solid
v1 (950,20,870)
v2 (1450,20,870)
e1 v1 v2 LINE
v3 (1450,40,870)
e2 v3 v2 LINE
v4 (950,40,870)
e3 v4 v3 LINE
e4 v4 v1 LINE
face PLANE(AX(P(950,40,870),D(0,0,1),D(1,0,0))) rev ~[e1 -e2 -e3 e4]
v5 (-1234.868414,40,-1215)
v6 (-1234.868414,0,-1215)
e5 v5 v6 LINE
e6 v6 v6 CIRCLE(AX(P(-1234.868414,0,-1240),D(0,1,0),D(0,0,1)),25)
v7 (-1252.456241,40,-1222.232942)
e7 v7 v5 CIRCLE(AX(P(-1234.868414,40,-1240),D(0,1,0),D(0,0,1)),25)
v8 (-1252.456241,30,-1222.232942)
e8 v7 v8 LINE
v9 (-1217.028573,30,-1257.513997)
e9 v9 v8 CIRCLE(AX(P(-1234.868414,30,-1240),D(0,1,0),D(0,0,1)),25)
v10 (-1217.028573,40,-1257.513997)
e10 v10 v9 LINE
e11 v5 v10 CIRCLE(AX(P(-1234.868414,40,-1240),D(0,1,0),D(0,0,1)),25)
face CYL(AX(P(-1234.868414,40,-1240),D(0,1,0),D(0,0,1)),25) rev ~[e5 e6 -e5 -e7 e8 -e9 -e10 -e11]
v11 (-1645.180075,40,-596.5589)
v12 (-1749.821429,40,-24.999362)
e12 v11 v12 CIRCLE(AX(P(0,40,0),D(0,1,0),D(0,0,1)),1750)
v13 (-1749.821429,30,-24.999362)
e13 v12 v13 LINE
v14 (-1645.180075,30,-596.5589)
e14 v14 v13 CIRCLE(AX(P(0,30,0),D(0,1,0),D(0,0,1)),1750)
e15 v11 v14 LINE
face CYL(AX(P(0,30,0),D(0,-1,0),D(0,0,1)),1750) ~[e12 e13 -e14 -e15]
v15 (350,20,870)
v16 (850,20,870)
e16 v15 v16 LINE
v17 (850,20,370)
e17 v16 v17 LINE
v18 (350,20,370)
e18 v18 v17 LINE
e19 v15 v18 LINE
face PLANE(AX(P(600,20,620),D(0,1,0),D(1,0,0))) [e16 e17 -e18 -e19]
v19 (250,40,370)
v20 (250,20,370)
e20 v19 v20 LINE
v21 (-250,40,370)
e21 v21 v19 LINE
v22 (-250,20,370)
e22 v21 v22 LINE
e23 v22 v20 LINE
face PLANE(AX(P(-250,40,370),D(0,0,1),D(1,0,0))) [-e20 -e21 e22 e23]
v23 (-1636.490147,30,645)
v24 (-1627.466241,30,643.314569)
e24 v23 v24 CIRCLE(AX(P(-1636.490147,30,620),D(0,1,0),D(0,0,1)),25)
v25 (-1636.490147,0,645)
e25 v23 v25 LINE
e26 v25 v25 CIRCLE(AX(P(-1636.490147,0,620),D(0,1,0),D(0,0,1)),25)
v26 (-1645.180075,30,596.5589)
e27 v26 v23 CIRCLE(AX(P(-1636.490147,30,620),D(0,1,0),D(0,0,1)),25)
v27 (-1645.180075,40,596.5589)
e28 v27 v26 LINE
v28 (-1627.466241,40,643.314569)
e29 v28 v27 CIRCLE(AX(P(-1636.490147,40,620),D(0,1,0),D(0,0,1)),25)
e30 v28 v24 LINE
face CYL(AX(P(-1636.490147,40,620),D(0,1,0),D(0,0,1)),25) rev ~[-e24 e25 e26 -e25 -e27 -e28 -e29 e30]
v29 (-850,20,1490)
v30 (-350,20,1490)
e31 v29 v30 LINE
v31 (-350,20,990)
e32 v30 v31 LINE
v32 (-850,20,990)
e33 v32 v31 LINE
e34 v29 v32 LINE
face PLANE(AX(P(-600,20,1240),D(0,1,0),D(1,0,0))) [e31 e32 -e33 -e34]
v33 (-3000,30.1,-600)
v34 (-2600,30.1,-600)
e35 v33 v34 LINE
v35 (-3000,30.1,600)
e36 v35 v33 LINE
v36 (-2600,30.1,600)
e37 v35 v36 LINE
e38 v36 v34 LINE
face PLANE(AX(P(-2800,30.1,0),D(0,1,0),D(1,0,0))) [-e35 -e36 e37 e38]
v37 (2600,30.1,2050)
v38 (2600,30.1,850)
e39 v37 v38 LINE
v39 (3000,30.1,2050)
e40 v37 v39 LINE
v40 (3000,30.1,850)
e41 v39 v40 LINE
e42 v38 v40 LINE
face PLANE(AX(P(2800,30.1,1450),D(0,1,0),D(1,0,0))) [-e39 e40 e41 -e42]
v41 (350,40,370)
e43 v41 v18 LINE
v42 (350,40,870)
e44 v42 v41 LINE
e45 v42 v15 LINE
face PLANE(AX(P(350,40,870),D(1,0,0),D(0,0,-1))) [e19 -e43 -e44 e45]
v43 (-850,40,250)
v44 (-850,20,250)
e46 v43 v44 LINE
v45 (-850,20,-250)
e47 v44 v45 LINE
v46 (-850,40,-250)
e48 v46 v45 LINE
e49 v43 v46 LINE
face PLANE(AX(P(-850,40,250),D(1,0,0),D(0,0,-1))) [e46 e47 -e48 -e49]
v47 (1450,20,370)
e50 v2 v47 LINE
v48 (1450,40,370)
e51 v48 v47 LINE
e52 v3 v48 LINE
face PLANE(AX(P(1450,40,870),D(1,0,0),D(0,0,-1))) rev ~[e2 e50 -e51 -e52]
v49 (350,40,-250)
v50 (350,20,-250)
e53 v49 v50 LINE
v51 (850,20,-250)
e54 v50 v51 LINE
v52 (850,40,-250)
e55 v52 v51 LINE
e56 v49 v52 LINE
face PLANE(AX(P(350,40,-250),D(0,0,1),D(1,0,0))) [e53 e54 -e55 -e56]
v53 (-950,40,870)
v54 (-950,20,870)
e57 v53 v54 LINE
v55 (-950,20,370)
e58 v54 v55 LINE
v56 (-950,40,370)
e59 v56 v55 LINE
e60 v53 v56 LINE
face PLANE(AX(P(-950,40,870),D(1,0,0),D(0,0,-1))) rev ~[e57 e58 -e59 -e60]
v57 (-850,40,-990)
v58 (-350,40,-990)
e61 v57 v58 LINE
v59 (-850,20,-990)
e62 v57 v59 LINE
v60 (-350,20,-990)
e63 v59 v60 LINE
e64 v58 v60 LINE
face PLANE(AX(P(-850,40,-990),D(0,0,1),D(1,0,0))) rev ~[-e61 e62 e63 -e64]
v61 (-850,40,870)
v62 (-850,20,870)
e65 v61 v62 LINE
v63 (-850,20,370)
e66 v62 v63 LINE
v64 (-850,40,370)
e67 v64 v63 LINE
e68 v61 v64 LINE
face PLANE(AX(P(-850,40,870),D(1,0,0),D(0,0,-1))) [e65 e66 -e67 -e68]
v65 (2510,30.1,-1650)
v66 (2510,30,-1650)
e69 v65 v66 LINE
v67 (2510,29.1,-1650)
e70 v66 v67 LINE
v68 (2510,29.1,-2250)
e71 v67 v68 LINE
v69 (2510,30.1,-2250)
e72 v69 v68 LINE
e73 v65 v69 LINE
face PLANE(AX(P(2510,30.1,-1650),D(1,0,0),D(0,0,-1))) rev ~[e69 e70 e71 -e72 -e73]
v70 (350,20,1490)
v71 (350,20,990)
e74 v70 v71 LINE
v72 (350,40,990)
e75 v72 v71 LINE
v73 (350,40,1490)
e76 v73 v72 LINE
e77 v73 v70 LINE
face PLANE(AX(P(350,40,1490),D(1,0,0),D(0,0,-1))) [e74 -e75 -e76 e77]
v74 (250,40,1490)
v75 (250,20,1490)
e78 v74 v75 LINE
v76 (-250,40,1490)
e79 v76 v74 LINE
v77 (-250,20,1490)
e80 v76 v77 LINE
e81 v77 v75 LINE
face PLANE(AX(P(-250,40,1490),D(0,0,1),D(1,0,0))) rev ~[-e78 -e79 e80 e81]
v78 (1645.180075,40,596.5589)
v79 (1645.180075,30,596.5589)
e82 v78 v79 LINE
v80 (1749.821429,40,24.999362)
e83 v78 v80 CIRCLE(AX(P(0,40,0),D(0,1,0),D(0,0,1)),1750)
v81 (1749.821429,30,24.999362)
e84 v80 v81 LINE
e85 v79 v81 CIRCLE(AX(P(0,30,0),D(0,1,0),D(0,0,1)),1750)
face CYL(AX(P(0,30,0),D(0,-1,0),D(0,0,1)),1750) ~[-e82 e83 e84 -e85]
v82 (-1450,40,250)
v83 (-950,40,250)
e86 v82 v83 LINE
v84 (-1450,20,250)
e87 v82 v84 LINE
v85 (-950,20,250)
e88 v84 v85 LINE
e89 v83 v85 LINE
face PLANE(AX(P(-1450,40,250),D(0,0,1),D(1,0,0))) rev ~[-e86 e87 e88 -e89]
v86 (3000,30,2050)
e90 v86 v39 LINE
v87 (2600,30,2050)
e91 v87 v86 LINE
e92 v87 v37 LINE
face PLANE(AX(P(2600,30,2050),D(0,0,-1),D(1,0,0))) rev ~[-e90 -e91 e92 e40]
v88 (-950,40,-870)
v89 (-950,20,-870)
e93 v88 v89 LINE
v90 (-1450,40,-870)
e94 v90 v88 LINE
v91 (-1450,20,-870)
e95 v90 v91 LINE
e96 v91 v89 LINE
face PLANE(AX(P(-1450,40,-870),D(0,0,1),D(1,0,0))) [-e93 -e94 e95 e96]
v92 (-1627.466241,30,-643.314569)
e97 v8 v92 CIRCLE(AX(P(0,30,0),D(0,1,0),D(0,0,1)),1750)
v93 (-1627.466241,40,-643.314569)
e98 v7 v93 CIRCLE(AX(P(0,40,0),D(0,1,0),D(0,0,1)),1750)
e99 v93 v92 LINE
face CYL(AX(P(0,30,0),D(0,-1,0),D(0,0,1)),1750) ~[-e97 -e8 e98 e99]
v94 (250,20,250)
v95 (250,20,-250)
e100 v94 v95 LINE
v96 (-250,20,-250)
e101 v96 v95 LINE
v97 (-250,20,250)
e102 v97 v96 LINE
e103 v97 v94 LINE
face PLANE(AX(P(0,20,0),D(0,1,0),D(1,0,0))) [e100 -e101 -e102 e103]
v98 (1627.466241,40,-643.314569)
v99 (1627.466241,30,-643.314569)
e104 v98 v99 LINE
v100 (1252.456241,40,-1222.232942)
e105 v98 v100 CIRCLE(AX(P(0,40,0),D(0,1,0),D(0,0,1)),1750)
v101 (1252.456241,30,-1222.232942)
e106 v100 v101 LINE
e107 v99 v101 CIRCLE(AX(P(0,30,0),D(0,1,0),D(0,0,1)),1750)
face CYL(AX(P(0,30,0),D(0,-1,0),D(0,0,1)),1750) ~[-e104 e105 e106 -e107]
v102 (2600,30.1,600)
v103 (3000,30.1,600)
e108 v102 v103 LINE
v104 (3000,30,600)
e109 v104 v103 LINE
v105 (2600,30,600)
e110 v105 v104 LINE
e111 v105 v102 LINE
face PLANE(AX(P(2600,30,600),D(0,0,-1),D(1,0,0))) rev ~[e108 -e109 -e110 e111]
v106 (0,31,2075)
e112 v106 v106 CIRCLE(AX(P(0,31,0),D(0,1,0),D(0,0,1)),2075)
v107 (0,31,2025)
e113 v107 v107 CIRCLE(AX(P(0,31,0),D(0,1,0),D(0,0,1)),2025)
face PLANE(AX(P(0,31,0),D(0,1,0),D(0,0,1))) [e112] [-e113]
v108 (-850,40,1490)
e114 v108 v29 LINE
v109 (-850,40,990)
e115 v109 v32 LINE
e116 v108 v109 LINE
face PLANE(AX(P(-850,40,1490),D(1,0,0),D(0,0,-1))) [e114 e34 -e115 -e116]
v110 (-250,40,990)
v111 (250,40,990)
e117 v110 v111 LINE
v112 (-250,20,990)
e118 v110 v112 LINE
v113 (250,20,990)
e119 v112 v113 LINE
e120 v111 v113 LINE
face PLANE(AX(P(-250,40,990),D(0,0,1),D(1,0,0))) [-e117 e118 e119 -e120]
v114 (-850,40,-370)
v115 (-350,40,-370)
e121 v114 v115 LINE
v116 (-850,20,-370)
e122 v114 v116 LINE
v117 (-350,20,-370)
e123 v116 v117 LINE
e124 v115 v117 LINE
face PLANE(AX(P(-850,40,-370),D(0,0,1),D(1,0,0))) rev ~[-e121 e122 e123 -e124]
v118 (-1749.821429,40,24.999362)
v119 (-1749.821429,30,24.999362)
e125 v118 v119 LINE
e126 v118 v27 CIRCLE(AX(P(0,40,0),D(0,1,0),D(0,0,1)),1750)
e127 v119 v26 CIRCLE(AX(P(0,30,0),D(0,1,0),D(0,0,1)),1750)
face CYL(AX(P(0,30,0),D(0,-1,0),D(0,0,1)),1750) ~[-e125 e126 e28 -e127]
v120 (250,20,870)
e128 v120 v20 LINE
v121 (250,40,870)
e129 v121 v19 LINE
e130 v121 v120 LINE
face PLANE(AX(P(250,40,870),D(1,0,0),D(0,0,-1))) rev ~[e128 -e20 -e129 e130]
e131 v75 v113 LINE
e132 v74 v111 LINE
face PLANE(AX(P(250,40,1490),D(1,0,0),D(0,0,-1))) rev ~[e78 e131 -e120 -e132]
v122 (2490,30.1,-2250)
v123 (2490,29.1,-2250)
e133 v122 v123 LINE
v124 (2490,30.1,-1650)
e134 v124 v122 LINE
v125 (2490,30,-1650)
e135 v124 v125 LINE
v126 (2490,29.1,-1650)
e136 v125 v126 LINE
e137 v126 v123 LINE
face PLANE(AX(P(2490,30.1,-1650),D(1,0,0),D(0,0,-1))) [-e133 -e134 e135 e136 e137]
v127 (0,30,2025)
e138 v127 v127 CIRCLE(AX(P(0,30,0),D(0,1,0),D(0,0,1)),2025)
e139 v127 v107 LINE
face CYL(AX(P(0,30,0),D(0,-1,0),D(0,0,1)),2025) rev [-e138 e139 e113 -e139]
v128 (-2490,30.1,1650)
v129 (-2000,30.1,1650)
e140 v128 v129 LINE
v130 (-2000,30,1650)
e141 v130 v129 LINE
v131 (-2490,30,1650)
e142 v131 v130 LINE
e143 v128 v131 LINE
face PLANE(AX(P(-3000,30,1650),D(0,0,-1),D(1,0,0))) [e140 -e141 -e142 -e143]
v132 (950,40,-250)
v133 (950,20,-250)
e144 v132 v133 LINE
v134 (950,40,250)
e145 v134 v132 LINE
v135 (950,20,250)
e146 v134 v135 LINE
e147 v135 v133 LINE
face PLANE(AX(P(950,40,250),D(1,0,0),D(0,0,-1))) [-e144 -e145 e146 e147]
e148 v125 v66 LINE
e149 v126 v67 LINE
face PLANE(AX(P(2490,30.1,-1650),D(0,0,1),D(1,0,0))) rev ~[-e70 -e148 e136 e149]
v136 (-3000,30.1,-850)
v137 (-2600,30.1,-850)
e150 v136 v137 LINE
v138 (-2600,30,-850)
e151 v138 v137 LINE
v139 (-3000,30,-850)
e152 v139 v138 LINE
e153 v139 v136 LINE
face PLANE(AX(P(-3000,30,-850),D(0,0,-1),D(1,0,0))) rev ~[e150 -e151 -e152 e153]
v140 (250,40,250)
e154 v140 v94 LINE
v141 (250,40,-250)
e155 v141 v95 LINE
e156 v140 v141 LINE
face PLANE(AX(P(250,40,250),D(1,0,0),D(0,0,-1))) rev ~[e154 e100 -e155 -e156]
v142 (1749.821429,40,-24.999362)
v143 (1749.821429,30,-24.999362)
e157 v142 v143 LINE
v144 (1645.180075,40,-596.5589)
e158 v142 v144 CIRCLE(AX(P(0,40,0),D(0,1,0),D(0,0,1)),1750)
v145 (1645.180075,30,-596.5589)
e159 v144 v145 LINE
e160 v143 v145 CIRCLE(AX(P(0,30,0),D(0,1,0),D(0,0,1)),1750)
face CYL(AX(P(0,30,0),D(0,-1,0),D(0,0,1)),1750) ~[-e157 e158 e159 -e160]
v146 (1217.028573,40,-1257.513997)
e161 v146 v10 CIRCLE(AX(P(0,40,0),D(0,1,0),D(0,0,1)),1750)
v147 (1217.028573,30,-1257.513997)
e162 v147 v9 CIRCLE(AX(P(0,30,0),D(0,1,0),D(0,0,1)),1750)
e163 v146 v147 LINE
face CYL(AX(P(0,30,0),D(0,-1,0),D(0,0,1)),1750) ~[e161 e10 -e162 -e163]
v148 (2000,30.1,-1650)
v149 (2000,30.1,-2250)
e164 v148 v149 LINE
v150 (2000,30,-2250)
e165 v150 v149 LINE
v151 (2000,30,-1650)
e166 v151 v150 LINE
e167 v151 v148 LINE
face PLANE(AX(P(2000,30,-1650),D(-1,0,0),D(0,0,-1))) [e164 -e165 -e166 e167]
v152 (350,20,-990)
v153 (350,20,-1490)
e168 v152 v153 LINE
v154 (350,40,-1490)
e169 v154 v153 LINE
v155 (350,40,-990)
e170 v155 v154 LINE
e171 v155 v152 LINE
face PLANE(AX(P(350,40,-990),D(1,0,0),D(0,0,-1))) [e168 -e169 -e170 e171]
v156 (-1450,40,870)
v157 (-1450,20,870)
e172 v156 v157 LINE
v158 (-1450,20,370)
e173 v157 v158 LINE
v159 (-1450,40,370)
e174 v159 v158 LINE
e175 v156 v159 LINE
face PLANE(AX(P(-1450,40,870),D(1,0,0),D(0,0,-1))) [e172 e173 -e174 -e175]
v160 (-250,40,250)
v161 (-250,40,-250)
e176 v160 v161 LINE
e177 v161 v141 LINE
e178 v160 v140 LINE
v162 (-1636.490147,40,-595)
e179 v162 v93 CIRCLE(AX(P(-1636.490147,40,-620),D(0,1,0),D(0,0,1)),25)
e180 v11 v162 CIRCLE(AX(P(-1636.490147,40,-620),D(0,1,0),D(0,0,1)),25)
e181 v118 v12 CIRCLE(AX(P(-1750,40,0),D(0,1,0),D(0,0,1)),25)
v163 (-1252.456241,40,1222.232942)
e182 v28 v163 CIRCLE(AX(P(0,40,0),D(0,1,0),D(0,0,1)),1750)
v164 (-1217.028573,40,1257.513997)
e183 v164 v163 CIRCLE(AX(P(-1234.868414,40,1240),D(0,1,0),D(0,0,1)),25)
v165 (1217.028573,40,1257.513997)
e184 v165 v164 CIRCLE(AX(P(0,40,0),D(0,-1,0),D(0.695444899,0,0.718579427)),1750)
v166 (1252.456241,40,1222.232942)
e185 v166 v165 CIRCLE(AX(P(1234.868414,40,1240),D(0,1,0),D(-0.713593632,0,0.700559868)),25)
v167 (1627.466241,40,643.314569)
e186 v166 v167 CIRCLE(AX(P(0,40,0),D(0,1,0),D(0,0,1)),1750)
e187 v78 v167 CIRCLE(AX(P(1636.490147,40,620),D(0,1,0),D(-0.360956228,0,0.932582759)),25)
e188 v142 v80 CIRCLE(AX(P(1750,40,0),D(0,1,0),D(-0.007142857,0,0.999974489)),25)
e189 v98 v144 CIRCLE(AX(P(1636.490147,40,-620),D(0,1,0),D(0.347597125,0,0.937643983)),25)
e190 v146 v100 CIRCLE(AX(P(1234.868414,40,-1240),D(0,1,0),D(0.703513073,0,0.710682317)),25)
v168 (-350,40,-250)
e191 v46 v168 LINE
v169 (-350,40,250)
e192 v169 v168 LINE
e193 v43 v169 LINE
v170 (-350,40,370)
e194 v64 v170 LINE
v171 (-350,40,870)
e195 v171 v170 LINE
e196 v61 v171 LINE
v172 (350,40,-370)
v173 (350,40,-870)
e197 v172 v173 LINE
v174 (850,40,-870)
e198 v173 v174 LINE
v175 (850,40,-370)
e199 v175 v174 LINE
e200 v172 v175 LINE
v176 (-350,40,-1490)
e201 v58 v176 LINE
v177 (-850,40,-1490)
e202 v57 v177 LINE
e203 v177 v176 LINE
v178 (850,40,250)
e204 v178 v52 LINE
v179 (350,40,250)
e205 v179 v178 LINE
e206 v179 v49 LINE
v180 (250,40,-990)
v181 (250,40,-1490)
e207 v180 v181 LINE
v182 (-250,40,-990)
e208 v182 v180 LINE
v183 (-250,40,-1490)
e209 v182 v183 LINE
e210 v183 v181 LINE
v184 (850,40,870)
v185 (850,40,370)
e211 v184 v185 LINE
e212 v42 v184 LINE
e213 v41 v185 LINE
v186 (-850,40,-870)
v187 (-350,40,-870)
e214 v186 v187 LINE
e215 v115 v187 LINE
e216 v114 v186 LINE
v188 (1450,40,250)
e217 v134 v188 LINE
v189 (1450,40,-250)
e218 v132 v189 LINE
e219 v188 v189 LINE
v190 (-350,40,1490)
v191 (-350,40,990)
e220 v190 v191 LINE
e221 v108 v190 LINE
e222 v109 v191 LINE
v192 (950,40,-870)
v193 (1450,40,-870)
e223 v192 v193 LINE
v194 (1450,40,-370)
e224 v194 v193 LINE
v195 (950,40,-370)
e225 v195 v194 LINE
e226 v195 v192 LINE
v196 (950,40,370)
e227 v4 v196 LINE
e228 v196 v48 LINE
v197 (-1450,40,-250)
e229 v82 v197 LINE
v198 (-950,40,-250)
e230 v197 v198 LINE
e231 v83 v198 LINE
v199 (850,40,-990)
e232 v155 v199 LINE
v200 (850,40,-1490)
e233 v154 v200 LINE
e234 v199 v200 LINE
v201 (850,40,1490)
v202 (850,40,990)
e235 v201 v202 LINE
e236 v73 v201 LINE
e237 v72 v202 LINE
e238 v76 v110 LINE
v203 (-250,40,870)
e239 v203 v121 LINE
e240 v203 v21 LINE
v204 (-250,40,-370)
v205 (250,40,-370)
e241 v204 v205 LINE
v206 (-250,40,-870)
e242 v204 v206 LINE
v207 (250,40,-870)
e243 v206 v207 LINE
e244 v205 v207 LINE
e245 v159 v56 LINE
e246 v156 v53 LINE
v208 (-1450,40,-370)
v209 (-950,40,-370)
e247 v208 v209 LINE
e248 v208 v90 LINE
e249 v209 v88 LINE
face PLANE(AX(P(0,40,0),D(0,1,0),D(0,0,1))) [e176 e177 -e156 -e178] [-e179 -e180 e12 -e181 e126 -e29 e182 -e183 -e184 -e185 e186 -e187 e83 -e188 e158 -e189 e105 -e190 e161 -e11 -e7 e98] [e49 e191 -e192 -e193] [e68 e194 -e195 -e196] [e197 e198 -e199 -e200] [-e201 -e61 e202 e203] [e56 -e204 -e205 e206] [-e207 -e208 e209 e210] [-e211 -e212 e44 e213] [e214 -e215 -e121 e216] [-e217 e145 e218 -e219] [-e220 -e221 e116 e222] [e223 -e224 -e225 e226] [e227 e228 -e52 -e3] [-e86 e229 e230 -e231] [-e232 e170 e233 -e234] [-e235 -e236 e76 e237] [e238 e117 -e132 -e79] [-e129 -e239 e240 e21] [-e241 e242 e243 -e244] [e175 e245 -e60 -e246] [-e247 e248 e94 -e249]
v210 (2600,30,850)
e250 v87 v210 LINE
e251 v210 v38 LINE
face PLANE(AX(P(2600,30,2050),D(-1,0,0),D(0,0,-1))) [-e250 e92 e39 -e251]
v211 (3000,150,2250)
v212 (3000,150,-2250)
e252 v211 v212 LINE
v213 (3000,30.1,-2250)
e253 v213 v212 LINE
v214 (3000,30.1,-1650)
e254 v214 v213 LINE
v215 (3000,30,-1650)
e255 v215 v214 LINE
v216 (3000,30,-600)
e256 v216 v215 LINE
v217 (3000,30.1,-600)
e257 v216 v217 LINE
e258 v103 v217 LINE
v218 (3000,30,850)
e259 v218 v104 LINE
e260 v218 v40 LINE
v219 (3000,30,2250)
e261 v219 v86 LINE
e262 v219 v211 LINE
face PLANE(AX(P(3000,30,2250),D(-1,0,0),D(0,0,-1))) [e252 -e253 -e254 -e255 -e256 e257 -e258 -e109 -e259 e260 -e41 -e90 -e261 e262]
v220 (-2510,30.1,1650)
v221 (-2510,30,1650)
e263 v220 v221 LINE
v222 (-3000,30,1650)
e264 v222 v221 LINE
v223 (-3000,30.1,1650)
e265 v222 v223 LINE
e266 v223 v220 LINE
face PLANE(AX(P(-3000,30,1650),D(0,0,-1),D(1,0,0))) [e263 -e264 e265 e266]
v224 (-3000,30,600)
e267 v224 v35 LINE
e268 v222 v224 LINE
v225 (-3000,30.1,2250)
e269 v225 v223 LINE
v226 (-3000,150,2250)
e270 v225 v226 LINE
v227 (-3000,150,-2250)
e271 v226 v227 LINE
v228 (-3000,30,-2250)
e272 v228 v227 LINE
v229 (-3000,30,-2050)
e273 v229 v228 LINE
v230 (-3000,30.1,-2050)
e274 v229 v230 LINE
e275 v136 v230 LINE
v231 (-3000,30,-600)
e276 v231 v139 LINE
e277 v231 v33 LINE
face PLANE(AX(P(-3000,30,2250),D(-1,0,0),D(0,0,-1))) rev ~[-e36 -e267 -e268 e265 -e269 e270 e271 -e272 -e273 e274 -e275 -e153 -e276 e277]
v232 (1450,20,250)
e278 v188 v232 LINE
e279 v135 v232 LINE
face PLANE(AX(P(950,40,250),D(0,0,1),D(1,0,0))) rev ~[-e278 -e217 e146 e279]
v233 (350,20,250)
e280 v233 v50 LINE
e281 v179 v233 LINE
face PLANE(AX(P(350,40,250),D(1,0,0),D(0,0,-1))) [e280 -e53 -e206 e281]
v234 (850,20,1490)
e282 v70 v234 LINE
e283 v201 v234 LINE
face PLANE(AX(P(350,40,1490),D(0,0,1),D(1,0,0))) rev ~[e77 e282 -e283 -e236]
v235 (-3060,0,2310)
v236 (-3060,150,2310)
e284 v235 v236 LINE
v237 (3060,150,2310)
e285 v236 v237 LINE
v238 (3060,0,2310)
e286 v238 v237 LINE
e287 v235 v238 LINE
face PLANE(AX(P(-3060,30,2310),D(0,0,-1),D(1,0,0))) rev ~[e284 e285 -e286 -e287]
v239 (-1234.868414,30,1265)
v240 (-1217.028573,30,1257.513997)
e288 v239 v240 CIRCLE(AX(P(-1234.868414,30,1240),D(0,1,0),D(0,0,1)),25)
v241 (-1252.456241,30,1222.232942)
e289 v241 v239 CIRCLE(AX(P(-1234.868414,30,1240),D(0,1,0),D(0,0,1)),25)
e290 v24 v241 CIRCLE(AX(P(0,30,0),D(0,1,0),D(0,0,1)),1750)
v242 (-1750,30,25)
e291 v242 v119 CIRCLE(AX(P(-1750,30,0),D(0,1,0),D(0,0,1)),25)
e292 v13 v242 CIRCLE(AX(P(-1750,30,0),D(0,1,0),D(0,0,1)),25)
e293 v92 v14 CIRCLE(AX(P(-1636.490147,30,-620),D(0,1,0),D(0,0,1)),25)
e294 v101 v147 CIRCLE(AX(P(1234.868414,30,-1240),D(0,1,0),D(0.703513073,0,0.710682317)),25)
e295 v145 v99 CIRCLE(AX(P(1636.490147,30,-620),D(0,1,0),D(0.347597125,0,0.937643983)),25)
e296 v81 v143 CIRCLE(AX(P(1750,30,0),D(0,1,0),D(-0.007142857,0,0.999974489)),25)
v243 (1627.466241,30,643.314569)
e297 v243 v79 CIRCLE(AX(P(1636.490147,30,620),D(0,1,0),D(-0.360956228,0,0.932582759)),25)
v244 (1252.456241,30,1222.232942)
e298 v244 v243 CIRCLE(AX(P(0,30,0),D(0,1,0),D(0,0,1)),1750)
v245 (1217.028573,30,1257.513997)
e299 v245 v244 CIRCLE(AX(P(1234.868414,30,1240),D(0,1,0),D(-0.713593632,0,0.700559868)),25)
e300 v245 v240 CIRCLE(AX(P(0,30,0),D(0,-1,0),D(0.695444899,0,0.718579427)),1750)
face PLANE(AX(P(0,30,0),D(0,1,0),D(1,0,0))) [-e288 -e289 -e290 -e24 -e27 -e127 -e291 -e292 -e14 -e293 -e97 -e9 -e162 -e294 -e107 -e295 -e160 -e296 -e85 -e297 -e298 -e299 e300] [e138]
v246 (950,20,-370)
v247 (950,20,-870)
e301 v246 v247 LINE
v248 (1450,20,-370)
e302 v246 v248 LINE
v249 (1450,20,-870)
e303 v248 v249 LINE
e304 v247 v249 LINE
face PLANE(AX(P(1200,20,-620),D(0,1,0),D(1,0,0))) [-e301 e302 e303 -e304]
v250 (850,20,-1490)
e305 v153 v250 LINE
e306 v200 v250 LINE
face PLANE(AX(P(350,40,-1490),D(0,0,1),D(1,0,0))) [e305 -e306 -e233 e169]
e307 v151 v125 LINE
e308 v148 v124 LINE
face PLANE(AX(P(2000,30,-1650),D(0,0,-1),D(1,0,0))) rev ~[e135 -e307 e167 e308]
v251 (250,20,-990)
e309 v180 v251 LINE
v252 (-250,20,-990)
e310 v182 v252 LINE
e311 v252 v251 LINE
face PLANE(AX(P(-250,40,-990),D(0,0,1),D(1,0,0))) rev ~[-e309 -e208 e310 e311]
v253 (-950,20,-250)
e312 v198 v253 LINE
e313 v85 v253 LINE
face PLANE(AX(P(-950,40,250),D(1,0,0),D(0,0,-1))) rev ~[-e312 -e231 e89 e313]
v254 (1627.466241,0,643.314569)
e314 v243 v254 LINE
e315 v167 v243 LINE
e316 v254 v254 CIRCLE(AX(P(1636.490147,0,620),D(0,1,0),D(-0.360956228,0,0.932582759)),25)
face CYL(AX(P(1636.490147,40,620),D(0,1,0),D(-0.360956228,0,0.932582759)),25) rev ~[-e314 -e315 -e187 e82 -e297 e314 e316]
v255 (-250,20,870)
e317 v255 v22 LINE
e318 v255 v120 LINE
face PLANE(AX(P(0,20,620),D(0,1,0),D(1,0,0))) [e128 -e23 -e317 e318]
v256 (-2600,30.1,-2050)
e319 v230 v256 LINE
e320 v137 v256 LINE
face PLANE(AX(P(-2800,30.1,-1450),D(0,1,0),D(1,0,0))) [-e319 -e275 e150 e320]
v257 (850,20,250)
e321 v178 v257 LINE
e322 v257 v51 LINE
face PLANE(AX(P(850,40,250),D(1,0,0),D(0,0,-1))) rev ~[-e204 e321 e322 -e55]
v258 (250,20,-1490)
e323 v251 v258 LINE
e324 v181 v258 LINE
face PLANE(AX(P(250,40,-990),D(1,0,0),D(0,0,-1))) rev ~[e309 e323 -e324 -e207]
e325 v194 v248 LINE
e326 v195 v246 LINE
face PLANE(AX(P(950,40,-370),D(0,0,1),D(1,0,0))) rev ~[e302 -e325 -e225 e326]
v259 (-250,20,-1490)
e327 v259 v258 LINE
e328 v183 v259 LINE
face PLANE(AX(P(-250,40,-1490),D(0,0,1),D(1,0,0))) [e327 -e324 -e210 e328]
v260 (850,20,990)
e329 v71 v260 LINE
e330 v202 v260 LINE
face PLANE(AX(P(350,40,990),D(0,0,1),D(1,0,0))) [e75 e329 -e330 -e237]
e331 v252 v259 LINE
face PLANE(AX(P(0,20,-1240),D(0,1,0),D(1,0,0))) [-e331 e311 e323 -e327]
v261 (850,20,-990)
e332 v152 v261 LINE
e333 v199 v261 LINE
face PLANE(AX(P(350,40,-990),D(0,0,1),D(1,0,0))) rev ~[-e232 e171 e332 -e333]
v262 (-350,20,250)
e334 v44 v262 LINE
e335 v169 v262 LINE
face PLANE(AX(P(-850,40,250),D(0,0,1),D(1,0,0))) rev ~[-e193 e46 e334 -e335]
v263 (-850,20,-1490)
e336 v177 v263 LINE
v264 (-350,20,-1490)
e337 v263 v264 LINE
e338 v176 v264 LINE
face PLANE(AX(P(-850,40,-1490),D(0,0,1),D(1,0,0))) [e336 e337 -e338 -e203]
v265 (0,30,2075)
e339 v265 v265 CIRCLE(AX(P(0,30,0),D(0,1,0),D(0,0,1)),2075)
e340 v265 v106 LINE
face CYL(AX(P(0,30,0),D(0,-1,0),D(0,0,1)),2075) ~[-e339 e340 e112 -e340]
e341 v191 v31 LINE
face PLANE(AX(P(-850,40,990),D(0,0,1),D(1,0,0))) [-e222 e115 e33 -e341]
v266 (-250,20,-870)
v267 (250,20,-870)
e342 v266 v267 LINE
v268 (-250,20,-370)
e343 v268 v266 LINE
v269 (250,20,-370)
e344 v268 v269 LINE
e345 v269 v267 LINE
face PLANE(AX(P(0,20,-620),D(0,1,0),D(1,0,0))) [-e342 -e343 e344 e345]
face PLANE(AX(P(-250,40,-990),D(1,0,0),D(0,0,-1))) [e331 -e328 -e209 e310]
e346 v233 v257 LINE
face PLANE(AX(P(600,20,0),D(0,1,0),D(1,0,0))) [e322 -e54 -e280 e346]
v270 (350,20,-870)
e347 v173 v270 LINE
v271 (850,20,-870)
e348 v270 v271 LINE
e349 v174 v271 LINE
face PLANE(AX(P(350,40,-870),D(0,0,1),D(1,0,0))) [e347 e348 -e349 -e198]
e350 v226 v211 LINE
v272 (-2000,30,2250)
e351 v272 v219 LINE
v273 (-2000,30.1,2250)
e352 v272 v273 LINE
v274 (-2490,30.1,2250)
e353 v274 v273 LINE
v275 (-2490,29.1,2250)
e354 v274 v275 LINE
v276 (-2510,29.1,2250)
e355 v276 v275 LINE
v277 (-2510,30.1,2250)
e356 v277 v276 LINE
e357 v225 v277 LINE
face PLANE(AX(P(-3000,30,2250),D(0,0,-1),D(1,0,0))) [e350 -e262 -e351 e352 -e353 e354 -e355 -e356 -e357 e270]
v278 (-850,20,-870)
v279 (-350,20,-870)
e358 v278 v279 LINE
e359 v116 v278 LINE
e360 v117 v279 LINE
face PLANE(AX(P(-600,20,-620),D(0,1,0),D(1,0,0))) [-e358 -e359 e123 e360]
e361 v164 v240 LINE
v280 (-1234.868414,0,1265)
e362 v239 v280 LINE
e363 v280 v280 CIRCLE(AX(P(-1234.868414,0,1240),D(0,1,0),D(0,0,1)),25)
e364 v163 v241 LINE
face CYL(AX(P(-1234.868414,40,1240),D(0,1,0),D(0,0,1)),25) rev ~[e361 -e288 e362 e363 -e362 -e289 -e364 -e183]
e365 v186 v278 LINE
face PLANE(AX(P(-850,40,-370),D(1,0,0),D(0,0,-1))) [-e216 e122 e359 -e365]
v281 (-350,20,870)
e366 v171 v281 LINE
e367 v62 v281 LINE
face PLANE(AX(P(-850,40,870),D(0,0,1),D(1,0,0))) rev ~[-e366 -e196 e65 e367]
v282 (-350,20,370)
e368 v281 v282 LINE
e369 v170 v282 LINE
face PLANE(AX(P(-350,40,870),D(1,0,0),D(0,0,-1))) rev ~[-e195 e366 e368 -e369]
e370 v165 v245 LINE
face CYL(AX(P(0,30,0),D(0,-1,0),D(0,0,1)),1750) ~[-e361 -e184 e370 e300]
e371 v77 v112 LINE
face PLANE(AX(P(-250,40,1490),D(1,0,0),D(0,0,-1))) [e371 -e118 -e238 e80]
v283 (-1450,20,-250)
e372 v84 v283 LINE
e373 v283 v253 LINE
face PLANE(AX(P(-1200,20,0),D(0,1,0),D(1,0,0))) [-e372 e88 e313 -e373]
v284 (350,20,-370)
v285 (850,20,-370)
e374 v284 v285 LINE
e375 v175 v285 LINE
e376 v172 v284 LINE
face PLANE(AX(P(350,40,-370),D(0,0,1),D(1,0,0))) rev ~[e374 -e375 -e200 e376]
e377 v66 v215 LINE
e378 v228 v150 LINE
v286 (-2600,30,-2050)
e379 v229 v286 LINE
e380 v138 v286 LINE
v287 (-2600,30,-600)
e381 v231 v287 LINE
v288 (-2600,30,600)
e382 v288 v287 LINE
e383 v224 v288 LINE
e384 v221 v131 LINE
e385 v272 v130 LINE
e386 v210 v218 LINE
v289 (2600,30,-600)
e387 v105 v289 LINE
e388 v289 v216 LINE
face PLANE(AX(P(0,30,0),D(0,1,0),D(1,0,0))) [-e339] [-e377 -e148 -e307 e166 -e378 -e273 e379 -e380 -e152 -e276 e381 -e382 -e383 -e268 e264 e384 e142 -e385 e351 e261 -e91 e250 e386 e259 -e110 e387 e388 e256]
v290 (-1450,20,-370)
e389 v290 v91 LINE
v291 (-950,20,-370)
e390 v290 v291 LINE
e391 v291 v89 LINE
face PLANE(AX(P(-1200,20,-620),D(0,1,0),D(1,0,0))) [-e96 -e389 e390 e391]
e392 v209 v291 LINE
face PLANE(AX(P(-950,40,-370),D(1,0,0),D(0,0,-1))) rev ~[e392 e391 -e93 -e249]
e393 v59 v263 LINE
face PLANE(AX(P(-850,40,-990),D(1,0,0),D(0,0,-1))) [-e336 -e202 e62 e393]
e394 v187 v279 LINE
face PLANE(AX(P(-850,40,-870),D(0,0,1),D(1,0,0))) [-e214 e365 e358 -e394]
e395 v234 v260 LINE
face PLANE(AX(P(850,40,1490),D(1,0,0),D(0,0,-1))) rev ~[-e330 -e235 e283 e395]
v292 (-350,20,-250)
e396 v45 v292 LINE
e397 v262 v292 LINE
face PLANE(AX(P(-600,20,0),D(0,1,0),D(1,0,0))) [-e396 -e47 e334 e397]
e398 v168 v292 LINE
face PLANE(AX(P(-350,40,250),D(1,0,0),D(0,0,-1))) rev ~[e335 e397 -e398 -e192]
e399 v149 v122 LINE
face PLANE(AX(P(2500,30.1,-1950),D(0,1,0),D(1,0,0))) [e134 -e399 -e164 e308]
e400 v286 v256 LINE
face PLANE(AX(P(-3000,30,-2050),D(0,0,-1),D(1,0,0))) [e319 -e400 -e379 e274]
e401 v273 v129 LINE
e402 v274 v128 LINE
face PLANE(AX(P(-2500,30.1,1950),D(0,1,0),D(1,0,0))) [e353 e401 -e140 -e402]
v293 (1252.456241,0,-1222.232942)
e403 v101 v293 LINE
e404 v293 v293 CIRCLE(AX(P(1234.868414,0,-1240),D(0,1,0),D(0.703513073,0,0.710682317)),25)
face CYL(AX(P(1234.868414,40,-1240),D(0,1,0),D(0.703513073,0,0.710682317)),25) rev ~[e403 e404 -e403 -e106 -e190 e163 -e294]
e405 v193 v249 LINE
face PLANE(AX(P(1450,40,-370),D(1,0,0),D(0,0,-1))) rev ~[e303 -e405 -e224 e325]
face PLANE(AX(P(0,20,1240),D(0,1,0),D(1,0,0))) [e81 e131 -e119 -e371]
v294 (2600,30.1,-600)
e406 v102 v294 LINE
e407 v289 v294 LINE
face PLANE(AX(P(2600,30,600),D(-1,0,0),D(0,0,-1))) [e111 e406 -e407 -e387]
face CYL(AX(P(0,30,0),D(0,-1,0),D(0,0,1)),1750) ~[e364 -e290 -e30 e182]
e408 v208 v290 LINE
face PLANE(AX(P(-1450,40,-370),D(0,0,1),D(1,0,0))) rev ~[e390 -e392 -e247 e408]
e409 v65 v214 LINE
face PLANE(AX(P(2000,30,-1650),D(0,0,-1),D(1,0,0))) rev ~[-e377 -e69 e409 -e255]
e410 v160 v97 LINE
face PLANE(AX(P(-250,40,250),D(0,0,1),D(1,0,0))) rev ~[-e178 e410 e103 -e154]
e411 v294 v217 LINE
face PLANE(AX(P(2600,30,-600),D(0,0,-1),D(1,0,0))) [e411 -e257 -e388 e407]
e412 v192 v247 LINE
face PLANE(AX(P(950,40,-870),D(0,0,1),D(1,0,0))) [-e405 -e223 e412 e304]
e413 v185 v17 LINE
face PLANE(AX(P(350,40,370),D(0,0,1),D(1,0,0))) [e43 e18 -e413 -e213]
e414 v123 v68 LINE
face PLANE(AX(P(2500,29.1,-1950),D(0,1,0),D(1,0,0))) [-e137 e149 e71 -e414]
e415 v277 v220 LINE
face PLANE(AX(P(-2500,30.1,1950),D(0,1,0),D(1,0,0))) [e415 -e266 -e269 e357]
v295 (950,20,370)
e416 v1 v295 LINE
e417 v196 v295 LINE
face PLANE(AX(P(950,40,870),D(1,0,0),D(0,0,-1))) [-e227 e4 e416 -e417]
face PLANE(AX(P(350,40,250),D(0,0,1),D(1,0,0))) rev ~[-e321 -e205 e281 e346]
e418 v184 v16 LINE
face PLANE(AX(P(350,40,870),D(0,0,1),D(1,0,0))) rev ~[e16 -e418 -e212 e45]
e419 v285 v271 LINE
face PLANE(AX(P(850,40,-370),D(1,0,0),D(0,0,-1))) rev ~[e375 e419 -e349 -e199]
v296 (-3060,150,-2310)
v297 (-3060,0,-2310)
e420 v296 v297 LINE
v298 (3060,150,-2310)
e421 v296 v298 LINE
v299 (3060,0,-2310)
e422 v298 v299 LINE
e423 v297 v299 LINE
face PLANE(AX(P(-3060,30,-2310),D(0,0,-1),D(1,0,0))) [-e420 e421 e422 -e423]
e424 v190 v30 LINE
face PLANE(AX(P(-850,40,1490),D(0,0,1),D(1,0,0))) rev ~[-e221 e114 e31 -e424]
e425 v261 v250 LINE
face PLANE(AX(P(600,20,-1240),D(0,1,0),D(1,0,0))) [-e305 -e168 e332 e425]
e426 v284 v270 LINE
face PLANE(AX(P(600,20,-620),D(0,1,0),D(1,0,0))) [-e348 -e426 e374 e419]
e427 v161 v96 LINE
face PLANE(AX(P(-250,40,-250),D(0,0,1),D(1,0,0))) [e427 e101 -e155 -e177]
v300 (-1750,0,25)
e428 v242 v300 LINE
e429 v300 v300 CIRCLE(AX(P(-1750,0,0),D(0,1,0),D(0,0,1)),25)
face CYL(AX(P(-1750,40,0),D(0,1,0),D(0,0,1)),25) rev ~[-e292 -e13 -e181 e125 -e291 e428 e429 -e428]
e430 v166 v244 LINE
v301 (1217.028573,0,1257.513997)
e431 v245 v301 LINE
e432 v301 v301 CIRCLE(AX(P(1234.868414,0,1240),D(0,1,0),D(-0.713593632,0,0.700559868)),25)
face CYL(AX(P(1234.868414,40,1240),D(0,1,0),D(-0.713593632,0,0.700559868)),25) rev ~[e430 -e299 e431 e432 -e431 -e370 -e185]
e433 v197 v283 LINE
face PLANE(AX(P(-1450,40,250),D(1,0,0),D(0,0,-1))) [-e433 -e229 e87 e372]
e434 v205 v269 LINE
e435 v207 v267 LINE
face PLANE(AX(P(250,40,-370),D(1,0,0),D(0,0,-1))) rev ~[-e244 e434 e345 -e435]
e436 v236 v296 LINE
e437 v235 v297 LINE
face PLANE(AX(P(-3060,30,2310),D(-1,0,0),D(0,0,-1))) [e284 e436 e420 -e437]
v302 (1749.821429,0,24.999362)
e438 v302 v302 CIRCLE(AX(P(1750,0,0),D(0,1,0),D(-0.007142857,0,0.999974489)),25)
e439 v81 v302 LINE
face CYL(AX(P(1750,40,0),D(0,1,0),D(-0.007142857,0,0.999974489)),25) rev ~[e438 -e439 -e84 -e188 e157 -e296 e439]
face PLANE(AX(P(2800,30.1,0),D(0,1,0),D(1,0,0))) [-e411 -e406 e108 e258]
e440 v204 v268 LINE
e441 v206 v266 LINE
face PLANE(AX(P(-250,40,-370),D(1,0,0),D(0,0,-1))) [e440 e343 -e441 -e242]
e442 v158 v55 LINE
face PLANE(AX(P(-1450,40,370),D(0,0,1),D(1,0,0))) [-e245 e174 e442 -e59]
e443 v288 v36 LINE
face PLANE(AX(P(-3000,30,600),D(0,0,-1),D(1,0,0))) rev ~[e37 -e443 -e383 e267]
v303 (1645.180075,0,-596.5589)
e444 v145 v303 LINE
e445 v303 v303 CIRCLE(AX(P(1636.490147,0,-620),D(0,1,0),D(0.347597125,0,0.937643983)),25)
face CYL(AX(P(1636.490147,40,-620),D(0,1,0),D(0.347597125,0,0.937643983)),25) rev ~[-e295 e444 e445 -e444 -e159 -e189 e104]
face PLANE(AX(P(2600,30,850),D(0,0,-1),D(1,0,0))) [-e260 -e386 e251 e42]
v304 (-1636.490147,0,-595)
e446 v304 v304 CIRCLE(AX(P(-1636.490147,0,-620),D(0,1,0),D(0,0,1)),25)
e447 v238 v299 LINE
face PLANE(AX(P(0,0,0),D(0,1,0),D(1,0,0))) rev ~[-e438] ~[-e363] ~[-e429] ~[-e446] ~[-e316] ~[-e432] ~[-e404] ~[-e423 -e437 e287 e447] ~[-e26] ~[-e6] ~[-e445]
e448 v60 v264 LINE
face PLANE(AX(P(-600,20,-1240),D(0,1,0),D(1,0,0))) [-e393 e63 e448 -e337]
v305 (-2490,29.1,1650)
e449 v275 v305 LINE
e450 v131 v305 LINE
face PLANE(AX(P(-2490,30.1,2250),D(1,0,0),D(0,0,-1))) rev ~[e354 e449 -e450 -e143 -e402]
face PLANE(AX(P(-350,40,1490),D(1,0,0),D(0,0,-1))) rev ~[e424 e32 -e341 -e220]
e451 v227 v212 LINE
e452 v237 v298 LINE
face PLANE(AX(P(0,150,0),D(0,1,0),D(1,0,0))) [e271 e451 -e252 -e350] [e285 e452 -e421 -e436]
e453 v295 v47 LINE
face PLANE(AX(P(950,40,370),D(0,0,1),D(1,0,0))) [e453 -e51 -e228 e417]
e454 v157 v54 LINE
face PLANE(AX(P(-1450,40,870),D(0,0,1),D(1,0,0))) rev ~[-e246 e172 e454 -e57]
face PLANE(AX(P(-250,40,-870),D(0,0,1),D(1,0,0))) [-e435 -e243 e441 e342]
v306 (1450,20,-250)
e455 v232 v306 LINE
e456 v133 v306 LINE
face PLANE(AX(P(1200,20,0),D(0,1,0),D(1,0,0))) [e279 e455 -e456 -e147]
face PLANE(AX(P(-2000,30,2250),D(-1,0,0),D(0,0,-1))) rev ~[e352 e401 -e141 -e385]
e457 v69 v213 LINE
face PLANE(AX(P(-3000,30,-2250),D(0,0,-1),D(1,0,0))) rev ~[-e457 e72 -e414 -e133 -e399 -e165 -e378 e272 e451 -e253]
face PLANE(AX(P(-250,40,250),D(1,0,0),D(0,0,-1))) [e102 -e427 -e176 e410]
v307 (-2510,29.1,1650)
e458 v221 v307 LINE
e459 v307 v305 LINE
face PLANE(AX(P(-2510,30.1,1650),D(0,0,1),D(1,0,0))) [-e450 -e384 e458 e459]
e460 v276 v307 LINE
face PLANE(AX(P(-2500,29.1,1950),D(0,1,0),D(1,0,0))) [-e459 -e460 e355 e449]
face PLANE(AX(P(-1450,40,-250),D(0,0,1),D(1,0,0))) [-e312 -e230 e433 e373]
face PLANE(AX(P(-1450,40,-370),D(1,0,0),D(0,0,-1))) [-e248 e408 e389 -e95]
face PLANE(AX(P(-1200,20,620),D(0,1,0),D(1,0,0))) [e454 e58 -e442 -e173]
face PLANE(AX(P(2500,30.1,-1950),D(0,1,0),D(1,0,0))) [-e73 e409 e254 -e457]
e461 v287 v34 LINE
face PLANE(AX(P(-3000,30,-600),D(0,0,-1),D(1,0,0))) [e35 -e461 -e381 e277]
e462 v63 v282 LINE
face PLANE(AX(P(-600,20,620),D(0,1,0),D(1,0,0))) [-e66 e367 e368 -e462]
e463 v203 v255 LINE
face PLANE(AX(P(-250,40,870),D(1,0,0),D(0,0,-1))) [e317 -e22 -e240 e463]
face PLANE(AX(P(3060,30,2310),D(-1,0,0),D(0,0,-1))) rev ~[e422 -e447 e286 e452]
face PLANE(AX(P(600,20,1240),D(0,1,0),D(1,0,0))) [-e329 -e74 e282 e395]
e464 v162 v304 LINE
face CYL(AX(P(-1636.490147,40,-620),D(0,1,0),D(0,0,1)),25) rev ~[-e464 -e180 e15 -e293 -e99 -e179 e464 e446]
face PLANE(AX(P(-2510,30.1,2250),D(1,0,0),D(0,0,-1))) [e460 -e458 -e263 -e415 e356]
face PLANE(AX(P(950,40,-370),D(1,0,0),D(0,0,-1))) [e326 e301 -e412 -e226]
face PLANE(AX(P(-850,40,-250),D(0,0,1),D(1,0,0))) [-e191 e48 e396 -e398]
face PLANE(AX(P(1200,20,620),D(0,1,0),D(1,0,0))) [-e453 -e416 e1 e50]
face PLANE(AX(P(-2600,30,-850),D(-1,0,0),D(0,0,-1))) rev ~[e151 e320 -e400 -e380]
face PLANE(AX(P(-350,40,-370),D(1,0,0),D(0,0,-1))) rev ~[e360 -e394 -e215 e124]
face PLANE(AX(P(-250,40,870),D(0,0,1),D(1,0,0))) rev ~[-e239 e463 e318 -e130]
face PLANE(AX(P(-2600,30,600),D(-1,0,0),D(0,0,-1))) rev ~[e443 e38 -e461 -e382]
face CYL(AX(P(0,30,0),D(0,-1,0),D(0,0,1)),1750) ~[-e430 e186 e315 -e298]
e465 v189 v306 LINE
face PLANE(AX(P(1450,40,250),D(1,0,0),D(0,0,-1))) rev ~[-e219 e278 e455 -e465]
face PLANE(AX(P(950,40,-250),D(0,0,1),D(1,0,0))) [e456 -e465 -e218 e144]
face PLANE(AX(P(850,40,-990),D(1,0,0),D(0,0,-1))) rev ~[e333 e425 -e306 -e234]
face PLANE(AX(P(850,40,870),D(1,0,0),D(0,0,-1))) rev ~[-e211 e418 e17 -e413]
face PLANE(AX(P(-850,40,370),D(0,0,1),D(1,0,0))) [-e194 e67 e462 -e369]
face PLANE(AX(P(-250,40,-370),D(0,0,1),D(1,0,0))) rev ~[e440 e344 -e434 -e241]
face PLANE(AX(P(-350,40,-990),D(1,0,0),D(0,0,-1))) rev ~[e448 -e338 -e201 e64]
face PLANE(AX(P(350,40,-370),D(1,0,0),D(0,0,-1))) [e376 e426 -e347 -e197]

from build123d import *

# Parameters (mm, degrees)
SKETCH1_W           = 6120
SKETCH1_H           = 4620
BOSS_EXTRUDE1_DEPTH = 30
SKETCH2_W           = 6120
SKETCH2_H           = 4620
SKETCH2_W_2         = 6000
SKETCH2_H_2         = 4500
BOSS_EXTRUDE2_DEPTH = 120
SKETCH3_R           = 1750
BOSS_EXTRUDE3_DEPTH = 10
SKETCH4_W           = 500
SKETCH4_H           = 500
CUT_EXTRUDE1_DEPTH  = 20
SKETCH12_R          = 2075
SKETCH12_R_2        = 2025
BOSS_EXTRUDE8_DEPTH = 1
SKETCH13_W          = 1000
SKETCH13_H          = 600
SKETCH13_W_2        = 400
SKETCH13_H_2        = 1200
BOSS_EXTRUDE9_DEPTH = 0.1
SKETCH14_R          = 25
CUT_EXTRUDE2_DEPTH  = 40
SKETCH15_W          = 20
SKETCH15_H          = 600
CUT_EXTRUDE3_DEPTH  = 1


with BuildPart() as part:
    # Sketch1 → Boss-Extrude1 (new body)
    with BuildSketch(Plane(origin=(0, 0, 0), x_dir=(1, 0, 0), z_dir=(0, 1, 0))):
        Rectangle(SKETCH1_W, SKETCH1_H)
    extrude(amount=BOSS_EXTRUDE1_DEPTH)

    # Sketch2 → Boss-Extrude2 (add)
    with BuildSketch(Plane(origin=(0, 30, 0), x_dir=(1, 0, 0), z_dir=(0, 1, 0))):
        Rectangle(SKETCH2_W, SKETCH2_H)
        Rectangle(SKETCH2_W_2, SKETCH2_H_2, mode=Mode.SUBTRACT)
    extrude(amount=BOSS_EXTRUDE2_DEPTH)

    # Sketch3 → Boss-Extrude3 (add)
    with BuildSketch(Plane(origin=(0, 30, 0), x_dir=(1, 0, 0), z_dir=(0, 1, 0))):
        with Locations(Location((0, 0, 0), (0, 0, 270))):
            Circle(SKETCH3_R)
    extrude(amount=BOSS_EXTRUDE3_DEPTH)

    # Sketch4 → Cut-Extrude1 (cut)
    with BuildSketch(Plane(origin=(0, 40, 0), x_dir=(1, 0, 0), z_dir=(0, 1, 0))):
        with Locations((600, 0)):
            Rectangle(SKETCH4_W, SKETCH4_H)
        Rectangle(SKETCH4_W, SKETCH4_H)
        with Locations((1200, 0)):
            Rectangle(SKETCH4_W, SKETCH4_H)
        with Locations((-1200, 0)):
            Rectangle(SKETCH4_W, SKETCH4_H)
        with Locations((-600, 0)):
            Rectangle(SKETCH4_W, SKETCH4_H)
        with Locations((0, 620)):
            Rectangle(SKETCH4_W, SKETCH4_H)
        with Locations((-600, 620)):
            Rectangle(SKETCH4_W, SKETCH4_H)
        with Locations((600, 620)):
            Rectangle(SKETCH4_W, SKETCH4_H)
        with Locations((0, 1240)):
            Rectangle(SKETCH4_W, SKETCH4_H)
        with Locations((-600, 1240)):
            Rectangle(SKETCH4_W, SKETCH4_H)
        with Locations((600, 1240)):
            Rectangle(SKETCH4_W, SKETCH4_H)
        with Locations((600, -1240)):
            Rectangle(SKETCH4_W, SKETCH4_H)
        with Locations((-600, -1240)):
            Rectangle(SKETCH4_W, SKETCH4_H)
        with Locations((0, -1240)):
            Rectangle(SKETCH4_W, SKETCH4_H)
        with Locations((600, -620)):
            Rectangle(SKETCH4_W, SKETCH4_H)
        with Locations((-600, -620)):
            Rectangle(SKETCH4_W, SKETCH4_H)
        with Locations((0, -620)):
            Rectangle(SKETCH4_W, SKETCH4_H)
        with Locations((-1200, 620)):
            Rectangle(SKETCH4_W, SKETCH4_H)
        with Locations((1200, 620)):
            Rectangle(SKETCH4_W, SKETCH4_H)
        with Locations((1200, -620)):
            Rectangle(SKETCH4_W, SKETCH4_H)
        with Locations((-1200, -620)):
            Rectangle(SKETCH4_W, SKETCH4_H)
    extrude(amount=-CUT_EXTRUDE1_DEPTH, mode=Mode.SUBTRACT)

    # Sketch12 → Boss-Extrude8 (add)
    with BuildSketch(Plane(origin=(0, 30, 0), x_dir=(1, 0, 0), z_dir=(0, 1, 0))):
        with Locations(Location((0, 0, 0), (0, 0, 270))):
            Circle(SKETCH12_R)
        with Locations(Location((0, 0, 0), (0, 0, 270))):
            Circle(SKETCH12_R_2, mode=Mode.SUBTRACT)
    extrude(amount=BOSS_EXTRUDE8_DEPTH)

    # Sketch13 → Boss-Extrude9 (add)
    with BuildSketch(Plane(origin=(0, 30, 0), x_dir=(1, 0, 0), z_dir=(0, 1, 0))):
        with Locations((-2500, -1950)):
            Rectangle(SKETCH13_W, SKETCH13_H)
        with Locations((-2800, 0)):
            Rectangle(SKETCH13_W_2, SKETCH13_H_2)
        with Locations((-2800, 1450)):
            Rectangle(SKETCH13_W_2, SKETCH13_H_2)
        with Locations((2500, 1950)):
            Rectangle(SKETCH13_W, SKETCH13_H)
        with Locations((2800, 0)):
            Rectangle(SKETCH13_W_2, SKETCH13_H_2)
        with Locations((2800, -1450)):
            Rectangle(SKETCH13_W_2, SKETCH13_H_2)
    extrude(amount=BOSS_EXTRUDE9_DEPTH)

    # Sketch14 → Cut-Extrude2 (cut)
    with BuildSketch(Plane(origin=(0, 40, 0), x_dir=(1, 0, 0), z_dir=(0, 1, 0))):
        with Locations(Location((-1636.490146625, -620, 0), (0, 0, 270))):
            Circle(SKETCH14_R)
        with Locations(Location((-1234.868414043, -1240, 0), (0, 0, 270))):
            Circle(SKETCH14_R)
        with Locations(Location((-1750, 0, 0), (0, 0, 270))):
            Circle(SKETCH14_R)
        with Locations(Location((-1636.490146625, 620, 0), (0, 0, 270))):
            Circle(SKETCH14_R)
        with Locations(Location((-1234.868414043, 1240, 0), (0, 0, 270))):
            Circle(SKETCH14_R)
        with Locations(Location((1234.868414043, 1240, 0), (0, 0, 314.709542337))):
            Circle(SKETCH14_R)
        with Locations(Location((1636.490146625, 620, 0), (0, 0, 290.340414768))):
            Circle(SKETCH14_R)
        with Locations(Location((1750, 0, 0), (0, 0, 269.590740952))):
            Circle(SKETCH14_R)
        with Locations(Location((1234.868414043, -1240, 0), (0, 0, 224.471939567))):
            Circle(SKETCH14_R)
        with Locations(Location((1636.490146625, -620, 0), (0, 0, 248.841067136))):
            Circle(SKETCH14_R)
    extrude(amount=-CUT_EXTRUDE2_DEPTH, mode=Mode.SUBTRACT)

    # Sketch15 → Cut-Extrude3 (cut)
    with BuildSketch(Plane(origin=(0, 30.1, 0), x_dir=(1, 0, 0), z_dir=(0, 1, 0))):
        with Locations((-2500, -1950)):
            Rectangle(SKETCH15_W, SKETCH15_H)
        with Locations((2500, 1950)):
            Rectangle(SKETCH15_W, SKETCH15_H)
    extrude(amount=-CUT_EXTRUDE3_DEPTH, mode=Mode.SUBTRACT)


solid = part.part
